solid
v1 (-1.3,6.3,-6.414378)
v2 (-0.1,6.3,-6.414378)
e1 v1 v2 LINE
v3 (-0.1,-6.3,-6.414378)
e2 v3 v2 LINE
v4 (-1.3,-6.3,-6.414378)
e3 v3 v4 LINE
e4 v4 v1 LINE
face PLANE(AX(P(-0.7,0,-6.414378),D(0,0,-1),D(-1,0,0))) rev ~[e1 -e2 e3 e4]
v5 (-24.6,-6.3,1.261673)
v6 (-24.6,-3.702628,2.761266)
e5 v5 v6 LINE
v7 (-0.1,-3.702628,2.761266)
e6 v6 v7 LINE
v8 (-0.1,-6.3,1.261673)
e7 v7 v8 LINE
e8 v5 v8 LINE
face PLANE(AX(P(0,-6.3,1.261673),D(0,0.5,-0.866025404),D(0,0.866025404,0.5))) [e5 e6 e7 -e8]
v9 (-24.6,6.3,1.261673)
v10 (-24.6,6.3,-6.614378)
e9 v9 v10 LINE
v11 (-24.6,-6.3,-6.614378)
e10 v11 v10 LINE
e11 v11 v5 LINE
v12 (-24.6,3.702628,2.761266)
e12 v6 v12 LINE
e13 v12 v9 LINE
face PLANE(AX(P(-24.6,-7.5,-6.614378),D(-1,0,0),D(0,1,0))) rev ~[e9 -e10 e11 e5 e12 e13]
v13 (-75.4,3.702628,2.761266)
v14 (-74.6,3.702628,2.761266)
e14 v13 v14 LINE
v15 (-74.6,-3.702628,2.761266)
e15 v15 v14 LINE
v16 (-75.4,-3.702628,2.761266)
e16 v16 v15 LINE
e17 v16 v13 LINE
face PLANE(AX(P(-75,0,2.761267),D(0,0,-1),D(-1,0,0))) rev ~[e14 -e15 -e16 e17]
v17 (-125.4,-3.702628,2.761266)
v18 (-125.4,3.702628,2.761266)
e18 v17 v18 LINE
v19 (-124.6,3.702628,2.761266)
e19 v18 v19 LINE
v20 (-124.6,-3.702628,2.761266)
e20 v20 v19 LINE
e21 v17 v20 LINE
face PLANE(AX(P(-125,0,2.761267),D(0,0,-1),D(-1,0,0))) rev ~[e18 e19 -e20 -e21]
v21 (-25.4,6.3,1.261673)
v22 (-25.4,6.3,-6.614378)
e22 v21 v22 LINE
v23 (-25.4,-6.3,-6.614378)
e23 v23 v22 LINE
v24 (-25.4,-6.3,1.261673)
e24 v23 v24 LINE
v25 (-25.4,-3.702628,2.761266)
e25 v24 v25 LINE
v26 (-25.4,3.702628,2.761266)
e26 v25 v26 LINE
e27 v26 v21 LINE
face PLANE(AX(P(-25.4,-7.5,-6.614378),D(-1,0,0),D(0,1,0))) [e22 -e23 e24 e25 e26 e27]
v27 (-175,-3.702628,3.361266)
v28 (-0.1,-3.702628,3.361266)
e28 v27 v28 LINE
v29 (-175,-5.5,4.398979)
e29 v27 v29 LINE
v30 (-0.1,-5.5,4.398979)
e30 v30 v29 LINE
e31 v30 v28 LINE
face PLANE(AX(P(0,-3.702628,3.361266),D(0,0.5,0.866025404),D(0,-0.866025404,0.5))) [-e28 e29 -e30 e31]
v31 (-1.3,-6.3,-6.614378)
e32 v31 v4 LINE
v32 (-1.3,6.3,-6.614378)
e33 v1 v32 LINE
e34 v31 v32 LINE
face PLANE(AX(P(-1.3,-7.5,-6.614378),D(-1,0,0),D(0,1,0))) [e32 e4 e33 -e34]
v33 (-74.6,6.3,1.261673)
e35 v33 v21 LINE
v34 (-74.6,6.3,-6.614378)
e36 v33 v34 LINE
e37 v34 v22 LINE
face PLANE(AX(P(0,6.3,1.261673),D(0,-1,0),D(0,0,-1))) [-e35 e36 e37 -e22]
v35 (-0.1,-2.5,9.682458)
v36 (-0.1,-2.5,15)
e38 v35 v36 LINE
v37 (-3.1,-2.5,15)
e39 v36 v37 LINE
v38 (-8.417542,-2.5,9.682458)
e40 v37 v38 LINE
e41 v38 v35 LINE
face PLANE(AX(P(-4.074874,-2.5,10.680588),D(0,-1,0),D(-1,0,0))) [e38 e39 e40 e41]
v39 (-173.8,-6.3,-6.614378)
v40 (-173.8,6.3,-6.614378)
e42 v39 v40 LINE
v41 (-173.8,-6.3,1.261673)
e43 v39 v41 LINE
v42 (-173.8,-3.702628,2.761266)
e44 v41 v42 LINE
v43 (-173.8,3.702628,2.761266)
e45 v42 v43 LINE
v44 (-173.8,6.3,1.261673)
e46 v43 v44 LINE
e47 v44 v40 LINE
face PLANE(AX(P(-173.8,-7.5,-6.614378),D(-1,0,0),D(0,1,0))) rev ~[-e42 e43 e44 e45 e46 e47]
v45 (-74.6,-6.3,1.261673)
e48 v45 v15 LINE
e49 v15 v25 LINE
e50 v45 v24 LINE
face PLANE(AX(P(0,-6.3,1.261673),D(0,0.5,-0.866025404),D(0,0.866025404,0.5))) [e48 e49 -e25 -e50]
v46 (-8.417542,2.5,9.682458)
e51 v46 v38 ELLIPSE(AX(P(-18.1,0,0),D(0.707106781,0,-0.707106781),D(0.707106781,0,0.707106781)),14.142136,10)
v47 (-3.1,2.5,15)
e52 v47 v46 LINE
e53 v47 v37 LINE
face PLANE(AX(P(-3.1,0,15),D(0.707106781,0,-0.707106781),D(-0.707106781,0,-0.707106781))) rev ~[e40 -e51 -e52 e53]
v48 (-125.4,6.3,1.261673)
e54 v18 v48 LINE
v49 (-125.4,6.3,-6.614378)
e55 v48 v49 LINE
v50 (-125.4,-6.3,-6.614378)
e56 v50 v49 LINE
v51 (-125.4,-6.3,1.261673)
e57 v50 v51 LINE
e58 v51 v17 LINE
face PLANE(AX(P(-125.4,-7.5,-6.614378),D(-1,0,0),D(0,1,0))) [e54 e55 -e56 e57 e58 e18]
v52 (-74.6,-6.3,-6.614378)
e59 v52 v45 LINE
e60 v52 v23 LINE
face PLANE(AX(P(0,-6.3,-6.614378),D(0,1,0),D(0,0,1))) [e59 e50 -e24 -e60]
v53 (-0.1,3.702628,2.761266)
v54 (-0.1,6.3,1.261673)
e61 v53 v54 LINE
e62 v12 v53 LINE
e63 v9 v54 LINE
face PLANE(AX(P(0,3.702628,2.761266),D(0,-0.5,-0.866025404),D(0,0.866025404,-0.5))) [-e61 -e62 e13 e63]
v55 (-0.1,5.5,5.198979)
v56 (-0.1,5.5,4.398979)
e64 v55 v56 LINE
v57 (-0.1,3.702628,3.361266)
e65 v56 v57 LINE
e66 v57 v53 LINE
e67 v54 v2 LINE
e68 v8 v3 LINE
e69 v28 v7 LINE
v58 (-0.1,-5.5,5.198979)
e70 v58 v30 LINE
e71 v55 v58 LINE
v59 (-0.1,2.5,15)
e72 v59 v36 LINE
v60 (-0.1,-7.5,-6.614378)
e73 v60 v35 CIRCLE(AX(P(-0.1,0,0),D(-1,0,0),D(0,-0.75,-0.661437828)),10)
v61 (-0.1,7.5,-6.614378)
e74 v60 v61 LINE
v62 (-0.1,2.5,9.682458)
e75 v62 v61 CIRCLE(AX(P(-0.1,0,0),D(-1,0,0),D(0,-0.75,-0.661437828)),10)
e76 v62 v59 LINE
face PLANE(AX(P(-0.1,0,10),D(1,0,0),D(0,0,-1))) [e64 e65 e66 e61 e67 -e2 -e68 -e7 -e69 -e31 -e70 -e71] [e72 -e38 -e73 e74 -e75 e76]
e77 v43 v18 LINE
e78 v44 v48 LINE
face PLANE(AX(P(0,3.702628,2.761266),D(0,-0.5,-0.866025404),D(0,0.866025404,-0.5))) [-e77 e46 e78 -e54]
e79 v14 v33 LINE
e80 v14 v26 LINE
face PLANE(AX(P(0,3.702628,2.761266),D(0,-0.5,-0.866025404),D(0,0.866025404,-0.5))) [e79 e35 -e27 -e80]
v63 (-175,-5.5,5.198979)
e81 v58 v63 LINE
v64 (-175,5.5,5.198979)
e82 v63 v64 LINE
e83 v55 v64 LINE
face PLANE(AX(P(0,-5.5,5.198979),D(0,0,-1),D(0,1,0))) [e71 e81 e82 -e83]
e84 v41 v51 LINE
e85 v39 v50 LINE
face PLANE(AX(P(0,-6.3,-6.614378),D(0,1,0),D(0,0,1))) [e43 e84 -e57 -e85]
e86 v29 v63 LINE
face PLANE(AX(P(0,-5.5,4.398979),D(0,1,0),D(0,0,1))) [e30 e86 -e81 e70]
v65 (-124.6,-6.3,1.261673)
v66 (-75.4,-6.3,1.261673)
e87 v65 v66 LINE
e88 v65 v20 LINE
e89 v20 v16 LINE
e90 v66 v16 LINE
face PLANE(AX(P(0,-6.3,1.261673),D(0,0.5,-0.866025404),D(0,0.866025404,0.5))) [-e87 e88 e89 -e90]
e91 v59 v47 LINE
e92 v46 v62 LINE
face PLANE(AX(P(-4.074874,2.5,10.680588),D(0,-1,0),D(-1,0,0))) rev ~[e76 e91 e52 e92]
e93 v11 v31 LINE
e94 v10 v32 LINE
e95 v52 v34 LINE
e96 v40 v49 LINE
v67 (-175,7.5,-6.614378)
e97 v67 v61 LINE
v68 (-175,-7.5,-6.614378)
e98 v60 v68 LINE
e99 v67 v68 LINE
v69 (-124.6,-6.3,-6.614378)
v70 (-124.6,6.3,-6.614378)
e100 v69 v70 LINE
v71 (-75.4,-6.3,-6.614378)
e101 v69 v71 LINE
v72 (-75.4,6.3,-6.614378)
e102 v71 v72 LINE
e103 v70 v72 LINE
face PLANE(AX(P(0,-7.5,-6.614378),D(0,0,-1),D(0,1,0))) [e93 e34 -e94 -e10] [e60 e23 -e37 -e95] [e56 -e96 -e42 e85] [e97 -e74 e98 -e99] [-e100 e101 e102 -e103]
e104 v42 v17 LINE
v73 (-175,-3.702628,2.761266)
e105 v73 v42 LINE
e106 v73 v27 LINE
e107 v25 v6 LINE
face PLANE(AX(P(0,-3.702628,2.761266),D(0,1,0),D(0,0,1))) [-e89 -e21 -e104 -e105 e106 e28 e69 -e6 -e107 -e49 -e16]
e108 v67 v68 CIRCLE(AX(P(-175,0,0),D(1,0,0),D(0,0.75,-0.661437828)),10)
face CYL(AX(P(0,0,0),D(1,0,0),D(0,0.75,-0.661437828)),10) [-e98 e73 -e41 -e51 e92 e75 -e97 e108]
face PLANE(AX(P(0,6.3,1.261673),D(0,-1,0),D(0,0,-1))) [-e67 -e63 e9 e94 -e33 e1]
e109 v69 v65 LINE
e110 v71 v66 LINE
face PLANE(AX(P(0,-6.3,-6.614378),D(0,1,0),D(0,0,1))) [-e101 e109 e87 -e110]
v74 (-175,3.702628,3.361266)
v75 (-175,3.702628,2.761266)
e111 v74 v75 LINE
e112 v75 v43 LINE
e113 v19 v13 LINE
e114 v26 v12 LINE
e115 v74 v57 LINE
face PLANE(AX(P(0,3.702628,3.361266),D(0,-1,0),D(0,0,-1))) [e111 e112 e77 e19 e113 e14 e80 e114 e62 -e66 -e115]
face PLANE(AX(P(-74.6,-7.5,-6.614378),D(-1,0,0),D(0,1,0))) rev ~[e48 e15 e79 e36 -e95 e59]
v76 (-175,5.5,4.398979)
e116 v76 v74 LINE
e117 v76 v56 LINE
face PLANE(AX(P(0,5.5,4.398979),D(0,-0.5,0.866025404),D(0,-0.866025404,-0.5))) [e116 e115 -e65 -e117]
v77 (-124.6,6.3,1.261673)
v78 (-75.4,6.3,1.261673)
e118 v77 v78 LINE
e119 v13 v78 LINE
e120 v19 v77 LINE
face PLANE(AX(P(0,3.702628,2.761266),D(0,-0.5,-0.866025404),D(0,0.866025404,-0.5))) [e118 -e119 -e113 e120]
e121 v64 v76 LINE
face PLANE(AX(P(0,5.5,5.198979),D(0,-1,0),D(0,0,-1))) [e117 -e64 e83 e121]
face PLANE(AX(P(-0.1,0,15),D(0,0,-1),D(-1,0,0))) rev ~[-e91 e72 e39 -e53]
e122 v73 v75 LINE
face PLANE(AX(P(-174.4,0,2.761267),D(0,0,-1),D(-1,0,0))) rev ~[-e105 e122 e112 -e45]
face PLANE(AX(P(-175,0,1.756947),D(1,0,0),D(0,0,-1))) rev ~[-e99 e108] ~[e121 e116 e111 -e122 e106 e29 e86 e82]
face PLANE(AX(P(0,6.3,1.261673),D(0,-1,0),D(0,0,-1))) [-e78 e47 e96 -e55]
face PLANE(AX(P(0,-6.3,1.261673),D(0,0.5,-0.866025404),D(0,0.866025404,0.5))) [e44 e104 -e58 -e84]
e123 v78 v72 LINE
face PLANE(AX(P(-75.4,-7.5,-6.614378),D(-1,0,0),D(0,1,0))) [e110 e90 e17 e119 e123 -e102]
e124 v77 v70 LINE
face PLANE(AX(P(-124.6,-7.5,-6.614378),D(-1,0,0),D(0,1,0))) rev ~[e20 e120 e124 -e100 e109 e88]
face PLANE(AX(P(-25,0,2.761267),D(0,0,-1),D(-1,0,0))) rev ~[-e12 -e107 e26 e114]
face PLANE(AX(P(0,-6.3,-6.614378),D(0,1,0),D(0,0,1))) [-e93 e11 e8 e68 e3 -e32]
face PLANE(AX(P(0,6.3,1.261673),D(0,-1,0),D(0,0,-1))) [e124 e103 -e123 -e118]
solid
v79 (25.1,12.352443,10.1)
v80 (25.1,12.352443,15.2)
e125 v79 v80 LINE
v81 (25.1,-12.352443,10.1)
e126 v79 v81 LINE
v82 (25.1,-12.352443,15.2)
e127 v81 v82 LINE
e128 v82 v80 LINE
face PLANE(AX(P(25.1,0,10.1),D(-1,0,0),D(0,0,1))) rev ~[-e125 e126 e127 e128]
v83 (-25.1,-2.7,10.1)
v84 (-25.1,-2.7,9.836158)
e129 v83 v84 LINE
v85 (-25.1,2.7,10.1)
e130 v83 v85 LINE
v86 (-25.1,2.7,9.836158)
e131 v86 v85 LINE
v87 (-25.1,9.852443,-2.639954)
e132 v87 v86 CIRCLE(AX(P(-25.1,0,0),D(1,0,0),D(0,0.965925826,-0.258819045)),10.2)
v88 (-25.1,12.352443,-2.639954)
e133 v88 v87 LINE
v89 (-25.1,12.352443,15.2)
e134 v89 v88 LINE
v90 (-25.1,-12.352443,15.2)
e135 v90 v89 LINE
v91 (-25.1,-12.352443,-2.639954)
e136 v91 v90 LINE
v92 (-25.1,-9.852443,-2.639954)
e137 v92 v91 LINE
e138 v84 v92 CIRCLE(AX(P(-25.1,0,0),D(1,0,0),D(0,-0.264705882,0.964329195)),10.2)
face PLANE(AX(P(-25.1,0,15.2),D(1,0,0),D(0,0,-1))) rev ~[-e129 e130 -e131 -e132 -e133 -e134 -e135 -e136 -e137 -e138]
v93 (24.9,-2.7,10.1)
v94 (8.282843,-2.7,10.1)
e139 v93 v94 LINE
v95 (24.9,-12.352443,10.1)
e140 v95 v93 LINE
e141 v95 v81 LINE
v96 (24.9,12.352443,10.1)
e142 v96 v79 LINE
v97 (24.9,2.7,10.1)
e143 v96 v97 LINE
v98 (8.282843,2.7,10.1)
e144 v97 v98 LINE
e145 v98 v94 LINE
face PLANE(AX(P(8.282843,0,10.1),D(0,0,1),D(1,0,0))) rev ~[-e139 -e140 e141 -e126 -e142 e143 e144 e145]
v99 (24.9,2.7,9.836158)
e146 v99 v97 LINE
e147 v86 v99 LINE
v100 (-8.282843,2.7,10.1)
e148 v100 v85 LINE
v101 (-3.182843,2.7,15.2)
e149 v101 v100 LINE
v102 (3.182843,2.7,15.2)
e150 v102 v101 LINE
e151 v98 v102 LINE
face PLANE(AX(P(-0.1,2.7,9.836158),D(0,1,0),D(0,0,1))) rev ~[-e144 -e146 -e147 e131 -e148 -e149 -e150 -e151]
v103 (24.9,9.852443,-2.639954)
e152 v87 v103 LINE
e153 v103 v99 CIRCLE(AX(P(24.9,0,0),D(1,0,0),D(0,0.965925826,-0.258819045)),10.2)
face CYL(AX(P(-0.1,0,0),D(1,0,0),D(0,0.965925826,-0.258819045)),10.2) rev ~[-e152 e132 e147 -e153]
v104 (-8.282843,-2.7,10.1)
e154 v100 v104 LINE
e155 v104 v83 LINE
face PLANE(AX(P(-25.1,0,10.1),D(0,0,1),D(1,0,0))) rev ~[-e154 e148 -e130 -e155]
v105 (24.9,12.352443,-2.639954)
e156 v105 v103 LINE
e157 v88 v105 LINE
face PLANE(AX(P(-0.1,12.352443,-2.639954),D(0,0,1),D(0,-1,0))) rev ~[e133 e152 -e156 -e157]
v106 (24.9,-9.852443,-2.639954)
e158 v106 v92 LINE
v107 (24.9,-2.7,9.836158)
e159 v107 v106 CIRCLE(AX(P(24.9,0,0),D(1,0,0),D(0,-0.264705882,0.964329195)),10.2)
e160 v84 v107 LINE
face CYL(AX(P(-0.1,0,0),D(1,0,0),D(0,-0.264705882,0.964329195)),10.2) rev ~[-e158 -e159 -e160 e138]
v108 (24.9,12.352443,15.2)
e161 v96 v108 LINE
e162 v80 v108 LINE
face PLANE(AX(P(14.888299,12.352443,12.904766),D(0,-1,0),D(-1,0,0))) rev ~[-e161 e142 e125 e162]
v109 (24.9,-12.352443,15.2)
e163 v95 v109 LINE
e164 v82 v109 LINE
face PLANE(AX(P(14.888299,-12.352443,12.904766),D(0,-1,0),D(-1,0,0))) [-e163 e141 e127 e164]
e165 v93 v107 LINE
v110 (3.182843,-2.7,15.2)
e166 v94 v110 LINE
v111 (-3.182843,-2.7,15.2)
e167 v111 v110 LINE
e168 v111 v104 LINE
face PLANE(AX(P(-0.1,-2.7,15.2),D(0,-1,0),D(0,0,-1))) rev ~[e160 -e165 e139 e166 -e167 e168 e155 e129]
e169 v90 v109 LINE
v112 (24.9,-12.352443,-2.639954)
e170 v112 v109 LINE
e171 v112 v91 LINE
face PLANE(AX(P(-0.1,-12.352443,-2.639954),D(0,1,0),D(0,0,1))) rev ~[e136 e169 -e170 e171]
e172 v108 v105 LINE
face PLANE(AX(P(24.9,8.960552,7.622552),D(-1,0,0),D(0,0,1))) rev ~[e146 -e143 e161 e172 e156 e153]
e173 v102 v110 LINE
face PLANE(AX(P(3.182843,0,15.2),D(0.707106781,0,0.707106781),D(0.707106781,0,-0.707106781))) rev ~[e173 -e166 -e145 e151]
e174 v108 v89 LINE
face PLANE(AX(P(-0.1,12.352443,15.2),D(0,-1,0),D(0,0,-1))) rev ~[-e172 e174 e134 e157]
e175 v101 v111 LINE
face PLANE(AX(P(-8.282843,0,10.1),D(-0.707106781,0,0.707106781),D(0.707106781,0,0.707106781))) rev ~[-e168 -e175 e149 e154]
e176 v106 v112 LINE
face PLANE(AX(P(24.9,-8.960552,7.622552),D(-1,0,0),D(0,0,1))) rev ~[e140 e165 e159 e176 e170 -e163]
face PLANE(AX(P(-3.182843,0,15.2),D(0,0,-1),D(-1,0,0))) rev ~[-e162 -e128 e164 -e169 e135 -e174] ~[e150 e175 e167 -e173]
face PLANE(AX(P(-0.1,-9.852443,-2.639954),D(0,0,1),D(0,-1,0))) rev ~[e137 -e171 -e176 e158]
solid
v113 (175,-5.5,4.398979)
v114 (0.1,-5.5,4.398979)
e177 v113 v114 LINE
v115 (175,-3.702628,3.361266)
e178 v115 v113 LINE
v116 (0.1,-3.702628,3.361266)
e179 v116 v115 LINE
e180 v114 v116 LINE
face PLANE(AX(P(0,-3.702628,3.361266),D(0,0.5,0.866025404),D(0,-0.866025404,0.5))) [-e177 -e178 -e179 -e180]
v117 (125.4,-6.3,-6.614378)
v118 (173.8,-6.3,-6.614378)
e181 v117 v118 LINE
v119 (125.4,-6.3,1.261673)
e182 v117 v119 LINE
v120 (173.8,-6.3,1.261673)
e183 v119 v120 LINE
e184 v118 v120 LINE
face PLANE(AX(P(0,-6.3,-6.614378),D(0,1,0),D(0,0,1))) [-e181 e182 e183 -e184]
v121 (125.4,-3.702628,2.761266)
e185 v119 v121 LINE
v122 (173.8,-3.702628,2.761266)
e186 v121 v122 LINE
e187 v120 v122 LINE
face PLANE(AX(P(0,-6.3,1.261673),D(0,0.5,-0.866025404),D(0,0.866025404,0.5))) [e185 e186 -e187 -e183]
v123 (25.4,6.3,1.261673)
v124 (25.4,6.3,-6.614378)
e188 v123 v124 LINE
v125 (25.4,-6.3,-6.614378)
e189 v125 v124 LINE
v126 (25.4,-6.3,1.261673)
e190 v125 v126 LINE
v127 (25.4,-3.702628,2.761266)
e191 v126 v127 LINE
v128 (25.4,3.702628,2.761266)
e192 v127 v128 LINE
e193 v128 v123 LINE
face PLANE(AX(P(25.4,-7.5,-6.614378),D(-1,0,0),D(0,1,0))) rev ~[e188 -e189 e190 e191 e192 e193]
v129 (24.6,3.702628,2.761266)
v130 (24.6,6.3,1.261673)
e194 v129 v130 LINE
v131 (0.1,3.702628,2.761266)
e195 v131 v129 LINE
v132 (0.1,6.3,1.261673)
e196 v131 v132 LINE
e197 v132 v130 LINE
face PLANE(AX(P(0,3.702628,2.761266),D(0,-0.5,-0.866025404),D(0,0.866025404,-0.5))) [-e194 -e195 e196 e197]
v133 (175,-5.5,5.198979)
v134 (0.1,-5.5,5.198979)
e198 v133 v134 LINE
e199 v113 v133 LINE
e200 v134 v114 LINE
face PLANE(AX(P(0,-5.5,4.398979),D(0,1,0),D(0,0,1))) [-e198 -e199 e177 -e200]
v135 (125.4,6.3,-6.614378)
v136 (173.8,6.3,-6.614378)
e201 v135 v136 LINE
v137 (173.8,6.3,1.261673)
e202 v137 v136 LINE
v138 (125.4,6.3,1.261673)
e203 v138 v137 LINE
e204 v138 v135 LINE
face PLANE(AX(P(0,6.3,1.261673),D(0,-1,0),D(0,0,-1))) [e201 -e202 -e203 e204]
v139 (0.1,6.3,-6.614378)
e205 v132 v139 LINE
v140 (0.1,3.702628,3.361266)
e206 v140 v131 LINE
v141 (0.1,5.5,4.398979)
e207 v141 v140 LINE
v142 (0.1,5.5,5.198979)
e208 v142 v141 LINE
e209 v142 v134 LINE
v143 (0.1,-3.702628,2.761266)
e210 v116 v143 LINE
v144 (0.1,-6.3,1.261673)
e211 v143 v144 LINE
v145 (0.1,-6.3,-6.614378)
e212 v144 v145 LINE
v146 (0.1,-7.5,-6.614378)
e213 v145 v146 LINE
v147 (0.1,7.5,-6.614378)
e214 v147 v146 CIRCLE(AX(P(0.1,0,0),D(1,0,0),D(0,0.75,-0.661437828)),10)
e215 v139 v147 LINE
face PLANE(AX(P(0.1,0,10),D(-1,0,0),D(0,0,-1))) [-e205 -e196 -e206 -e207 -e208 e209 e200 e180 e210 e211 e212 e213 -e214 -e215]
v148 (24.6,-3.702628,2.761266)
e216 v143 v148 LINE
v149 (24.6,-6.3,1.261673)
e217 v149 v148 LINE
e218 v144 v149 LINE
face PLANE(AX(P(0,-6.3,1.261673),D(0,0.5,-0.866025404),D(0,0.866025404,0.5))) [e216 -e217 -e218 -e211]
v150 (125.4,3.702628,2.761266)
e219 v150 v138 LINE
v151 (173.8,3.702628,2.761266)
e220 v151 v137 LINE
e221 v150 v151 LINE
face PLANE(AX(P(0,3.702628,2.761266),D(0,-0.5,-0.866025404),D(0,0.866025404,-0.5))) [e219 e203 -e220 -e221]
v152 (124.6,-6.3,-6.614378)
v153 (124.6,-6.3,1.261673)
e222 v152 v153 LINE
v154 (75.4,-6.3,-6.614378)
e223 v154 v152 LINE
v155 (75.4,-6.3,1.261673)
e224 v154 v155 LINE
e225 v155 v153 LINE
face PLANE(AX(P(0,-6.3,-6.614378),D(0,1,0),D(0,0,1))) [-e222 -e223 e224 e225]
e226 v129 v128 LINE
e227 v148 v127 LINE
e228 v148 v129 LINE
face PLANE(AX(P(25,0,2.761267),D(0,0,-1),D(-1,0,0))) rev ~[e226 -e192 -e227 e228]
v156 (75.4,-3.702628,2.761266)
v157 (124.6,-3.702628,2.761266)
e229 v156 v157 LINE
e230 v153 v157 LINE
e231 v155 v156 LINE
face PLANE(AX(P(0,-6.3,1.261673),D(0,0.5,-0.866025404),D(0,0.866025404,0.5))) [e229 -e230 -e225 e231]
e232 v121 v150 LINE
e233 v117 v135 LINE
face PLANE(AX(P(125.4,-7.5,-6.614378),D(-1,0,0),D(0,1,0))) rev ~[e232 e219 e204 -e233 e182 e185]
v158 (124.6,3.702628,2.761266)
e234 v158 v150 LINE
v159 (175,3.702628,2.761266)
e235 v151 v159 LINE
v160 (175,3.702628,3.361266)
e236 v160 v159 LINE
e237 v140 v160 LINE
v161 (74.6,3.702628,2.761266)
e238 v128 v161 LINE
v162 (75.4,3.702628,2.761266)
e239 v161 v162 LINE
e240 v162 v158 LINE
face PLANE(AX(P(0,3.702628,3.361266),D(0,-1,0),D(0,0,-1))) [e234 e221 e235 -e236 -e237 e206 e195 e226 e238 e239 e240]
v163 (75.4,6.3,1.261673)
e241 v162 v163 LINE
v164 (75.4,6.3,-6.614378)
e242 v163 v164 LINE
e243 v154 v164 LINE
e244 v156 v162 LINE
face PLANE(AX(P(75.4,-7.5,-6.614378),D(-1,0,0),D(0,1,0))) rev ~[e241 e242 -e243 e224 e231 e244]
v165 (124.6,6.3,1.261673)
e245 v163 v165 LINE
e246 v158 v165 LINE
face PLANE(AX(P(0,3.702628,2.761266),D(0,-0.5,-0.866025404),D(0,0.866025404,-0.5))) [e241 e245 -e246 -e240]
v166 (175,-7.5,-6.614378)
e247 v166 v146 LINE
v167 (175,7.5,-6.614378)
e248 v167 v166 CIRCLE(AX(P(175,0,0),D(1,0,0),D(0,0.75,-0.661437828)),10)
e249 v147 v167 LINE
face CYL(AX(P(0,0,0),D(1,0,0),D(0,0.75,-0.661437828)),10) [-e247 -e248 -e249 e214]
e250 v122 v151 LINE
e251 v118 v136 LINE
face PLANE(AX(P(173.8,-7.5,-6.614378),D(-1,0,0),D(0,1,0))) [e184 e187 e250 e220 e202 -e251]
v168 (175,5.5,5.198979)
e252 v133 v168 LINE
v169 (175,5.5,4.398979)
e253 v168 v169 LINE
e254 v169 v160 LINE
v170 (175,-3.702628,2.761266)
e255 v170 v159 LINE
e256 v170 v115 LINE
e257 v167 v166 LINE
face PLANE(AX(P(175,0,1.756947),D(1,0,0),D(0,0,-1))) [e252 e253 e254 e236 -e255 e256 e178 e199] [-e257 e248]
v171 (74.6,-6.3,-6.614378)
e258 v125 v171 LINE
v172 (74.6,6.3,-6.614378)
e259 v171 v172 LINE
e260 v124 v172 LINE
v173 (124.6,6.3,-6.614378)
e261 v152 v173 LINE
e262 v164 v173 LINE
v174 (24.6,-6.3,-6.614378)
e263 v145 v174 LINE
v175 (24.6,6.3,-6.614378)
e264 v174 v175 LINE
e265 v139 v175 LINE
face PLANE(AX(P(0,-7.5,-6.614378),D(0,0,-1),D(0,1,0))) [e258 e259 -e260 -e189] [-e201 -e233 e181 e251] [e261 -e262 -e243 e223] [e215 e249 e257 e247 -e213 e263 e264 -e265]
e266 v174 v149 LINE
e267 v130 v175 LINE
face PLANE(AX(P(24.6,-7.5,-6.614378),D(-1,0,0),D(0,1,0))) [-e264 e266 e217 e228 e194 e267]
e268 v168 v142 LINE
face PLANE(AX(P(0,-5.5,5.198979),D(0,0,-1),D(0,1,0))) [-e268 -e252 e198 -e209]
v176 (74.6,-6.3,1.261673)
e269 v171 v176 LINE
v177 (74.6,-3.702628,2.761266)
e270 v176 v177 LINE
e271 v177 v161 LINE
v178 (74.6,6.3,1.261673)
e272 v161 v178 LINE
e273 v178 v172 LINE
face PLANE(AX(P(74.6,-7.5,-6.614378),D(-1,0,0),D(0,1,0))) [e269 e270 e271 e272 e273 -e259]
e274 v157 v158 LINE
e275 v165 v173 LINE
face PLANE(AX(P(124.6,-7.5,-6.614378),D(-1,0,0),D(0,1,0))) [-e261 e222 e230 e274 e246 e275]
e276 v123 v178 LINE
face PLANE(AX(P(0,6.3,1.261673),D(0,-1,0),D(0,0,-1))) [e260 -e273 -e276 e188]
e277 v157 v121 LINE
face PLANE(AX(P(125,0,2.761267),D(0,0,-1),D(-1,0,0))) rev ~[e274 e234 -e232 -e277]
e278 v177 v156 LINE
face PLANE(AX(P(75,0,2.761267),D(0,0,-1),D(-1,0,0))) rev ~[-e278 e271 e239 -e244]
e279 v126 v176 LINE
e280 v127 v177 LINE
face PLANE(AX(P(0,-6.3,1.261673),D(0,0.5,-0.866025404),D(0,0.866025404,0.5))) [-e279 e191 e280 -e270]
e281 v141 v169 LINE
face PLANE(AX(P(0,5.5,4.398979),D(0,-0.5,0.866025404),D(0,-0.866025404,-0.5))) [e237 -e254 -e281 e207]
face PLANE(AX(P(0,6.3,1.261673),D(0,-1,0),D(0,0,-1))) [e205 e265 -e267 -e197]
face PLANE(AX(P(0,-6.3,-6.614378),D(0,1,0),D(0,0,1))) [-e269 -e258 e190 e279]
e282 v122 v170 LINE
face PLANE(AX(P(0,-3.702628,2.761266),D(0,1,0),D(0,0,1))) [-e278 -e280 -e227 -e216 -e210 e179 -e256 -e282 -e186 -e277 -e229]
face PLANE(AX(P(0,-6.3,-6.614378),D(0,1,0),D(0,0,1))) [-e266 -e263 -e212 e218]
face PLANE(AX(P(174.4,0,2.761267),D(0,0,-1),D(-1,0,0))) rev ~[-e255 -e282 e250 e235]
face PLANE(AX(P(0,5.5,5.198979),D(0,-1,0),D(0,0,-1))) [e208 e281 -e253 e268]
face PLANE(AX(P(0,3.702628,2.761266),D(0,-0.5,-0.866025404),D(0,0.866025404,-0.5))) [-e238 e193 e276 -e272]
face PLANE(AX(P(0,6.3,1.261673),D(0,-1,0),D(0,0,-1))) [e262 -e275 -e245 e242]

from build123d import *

# Parameters (mm, degrees)
BAR_DEPTH                = 175
SKETCH13_W               = 1.2
SKETCH13_H               = 15
SKETCH13_W_2             = 0.8
BOSS_EXTRUDE1_DEPTH      = 9.375645
SKETCH14_W               = 0.2
SKETCH14_H               = 16.614378278
CUT_EXTRUDE1_DEPTH       = 11
CUT_EXTRUDE1_DEPTH_BACK  = 11
BOSS_EXTRUDE2_DEPTH      = 2.5
BOSS_EXTRUDE3_DEPTH      = 25
BOSS_EXTRUDE3_2_DEPTH    = 25
BOSS_EXTRUDE4_DEPTH      = 12.352443
BOSS_EXTRUDE4_DEPTH_BACK = 12.352443
SKETCH18_W               = 1.2
SKETCH18_H               = 15
BOSS_EXTRUDE5_DEPTH      = 0.2


with BuildPart() as part:
    # Sketch1 → Bar (new body, symmetric)
    with BuildSketch(Plane(origin=(0, 0, 0), x_dir=(0, 0, -1), z_dir=(1, 0, 0))):
        with BuildLine():
            Line((-5.198979486, 5.5), (-4.398979486, 5.5))
            Line((-4.398979486, 5.5), (-3.361266245, 3.702627944))
            Line((-3.361266245, 3.702627944), (-2.761266245, 3.702627944))
            Line((-2.761266245, 3.702627944), (-1.26167279, 6.3))
            Line((-1.26167279, 6.3), (6.614378278, 6.3))
            Line((6.614378278, 6.3), (6.614378278, 7.5))
            ThreePointArc((6.614378278, 7.5), (-10, 0), (6.614378278, -7.5))
            Line((6.614378278, -7.5), (6.614378278, -6.3))
            Line((6.614378278, -6.3), (-1.26167279, -6.3))
            Line((-1.26167279, -6.3), (-2.761266245, -3.702627944))
            Line((-2.761266245, -3.702627944), (-3.361266245, -3.702627944))
            Line((-3.361266245, -3.702627944), (-4.398979486, -5.5))
            Line((-4.398979486, -5.5), (-5.198979486, -5.5))
            Line((-5.198979486, -5.5), (-5.198979486, 5.5))
        make_face()
    extrude(amount=BAR_DEPTH, both=True)

    # Sketch13 → Boss-Extrude1 (add)
    with BuildSketch(Plane(origin=(0, 0, -6.614378278), x_dir=(-1, 0, 0), z_dir=(0, 0, -1))):
        with Locations((174.4, 0)):
            Rectangle(SKETCH13_W, SKETCH13_H)
        with Locations((125, 0)):
            Rectangle(SKETCH13_W_2, SKETCH13_H)
        with Locations((75, 0)):
            Rectangle(SKETCH13_W_2, SKETCH13_H)
        with Locations((25, 0)):
            Rectangle(SKETCH13_W_2, SKETCH13_H)
        with Locations((-25, 0)):
            Rectangle(SKETCH13_W_2, SKETCH13_H)
        with Locations((-75, 0)):
            Rectangle(SKETCH13_W_2, SKETCH13_H)
        with Locations((-125, 0)):
            Rectangle(SKETCH13_W_2, SKETCH13_H)
        with Locations((-174.4, 0)):
            Rectangle(SKETCH13_W, SKETCH13_H)
    extrude(amount=-BOSS_EXTRUDE1_DEPTH)

    # Sketch14 → Cut-Extrude1 (cut, two sides)
    with BuildSketch(Plane(origin=(0, 0, 0), x_dir=(1, 0, 0), z_dir=(0, 1, 0))) as cut_extrude1_sk:
        with Locations((0, -1.692810861)):
            Rectangle(SKETCH14_W, SKETCH14_H)
    extrude(amount=CUT_EXTRUDE1_DEPTH, mode=Mode.SUBTRACT)
    extrude(cut_extrude1_sk.sketch, amount=-CUT_EXTRUDE1_DEPTH_BACK, mode=Mode.SUBTRACT)

    # Sketch15 → Boss-Extrude2 (add, symmetric)
    with BuildSketch(Plane(origin=(0, 0, 0), x_dir=(1, 0, 0), z_dir=(0, 1, 0))):
        Polygon((-0.1, -8), (-0.1, -15), (-3.1, -15), (-10.1, -8), align=None)
    extrude(amount=BOSS_EXTRUDE2_DEPTH, both=True)

    # Sketch18 → Boss-Extrude5 (add)
    with BuildSketch(Plane(origin=(0, 0, -6.614378278), x_dir=(-1, 0, 0), z_dir=(0, 0, -1))):
        with Locations((0.7, 0)):
            Rectangle(SKETCH18_W, SKETCH18_H)
    extrude(amount=-BOSS_EXTRUDE5_DEPTH)


with BuildPart() as body_2:
    # Sketch16 → Boss-Extrude3 (new body, symmetric)
    with BuildSketch(Plane(origin=(-0.1, 0, 0), x_dir=(0, 0, -1), z_dir=(1, 0, 0))):
        with BuildLine():
            ThreePointArc((-9.836157786, -2.7), (-5.073036373, -8.848971802), (2.63995426, -9.852443428))
            Line((2.63995426, -9.852443428), (2.63995426, -12.352443428))
            Line((2.63995426, -12.352443428), (-15.2, -12.352443428))
            Line((-15.2, -12.352443428), (-15.2, -2.7))
            Line((-15.2, -2.7), (-9.836157786, -2.7))
        make_face()
    extrude(amount=BOSS_EXTRUDE3_DEPTH, both=True)



with BuildPart() as body_3:
    # Sketch16 → Boss-Extrude3 2 (new body, symmetric)
    with BuildSketch(Plane(origin=(-0.1, 0, 0), x_dir=(0, 0, -1), z_dir=(1, 0, 0))):
        with BuildLine():
            Line((-9.836157786, 2.7), (-15.2, 2.7))
            Line((-15.2, 2.7), (-15.2, 12.352443428))
            Line((-15.2, 12.352443428), (2.63995426, 12.352443428))
            Line((2.63995426, 12.352443428), (2.63995426, 9.852443428))
            ThreePointArc((2.63995426, 9.852443428), (-5.073036373, 8.848971802), (-9.836157786, 2.7))
        make_face()
    extrude(amount=BOSS_EXTRUDE3_2_DEPTH, both=True)


with BuildPart() as body_2_1:
    add(body_2.part)

    add(body_3.part)  # Boss-Extrude4 merges body 3
    # Sketch17 → Boss-Extrude4 (add, two sides)
    with BuildSketch(Plane(origin=(0, 0, 0), x_dir=(1, 0, 0), z_dir=(0, 1, 0))) as boss_extrude4_sk:
        Polygon((-25.1, -10.1), (-8.282842712, -10.1), (-3.182842712, -15.2), (-25.1, -15.2), align=None)
        Polygon((8.282842712, -10.1), (25.1, -10.1), (25.1, -15.2), (3.182842712, -15.2), align=None)
    extrude(amount=BOSS_EXTRUDE4_DEPTH)
    extrude(boss_extrude4_sk.sketch, amount=-BOSS_EXTRUDE4_DEPTH_BACK)


solid = Compound([part.part, body_2_1.part])
